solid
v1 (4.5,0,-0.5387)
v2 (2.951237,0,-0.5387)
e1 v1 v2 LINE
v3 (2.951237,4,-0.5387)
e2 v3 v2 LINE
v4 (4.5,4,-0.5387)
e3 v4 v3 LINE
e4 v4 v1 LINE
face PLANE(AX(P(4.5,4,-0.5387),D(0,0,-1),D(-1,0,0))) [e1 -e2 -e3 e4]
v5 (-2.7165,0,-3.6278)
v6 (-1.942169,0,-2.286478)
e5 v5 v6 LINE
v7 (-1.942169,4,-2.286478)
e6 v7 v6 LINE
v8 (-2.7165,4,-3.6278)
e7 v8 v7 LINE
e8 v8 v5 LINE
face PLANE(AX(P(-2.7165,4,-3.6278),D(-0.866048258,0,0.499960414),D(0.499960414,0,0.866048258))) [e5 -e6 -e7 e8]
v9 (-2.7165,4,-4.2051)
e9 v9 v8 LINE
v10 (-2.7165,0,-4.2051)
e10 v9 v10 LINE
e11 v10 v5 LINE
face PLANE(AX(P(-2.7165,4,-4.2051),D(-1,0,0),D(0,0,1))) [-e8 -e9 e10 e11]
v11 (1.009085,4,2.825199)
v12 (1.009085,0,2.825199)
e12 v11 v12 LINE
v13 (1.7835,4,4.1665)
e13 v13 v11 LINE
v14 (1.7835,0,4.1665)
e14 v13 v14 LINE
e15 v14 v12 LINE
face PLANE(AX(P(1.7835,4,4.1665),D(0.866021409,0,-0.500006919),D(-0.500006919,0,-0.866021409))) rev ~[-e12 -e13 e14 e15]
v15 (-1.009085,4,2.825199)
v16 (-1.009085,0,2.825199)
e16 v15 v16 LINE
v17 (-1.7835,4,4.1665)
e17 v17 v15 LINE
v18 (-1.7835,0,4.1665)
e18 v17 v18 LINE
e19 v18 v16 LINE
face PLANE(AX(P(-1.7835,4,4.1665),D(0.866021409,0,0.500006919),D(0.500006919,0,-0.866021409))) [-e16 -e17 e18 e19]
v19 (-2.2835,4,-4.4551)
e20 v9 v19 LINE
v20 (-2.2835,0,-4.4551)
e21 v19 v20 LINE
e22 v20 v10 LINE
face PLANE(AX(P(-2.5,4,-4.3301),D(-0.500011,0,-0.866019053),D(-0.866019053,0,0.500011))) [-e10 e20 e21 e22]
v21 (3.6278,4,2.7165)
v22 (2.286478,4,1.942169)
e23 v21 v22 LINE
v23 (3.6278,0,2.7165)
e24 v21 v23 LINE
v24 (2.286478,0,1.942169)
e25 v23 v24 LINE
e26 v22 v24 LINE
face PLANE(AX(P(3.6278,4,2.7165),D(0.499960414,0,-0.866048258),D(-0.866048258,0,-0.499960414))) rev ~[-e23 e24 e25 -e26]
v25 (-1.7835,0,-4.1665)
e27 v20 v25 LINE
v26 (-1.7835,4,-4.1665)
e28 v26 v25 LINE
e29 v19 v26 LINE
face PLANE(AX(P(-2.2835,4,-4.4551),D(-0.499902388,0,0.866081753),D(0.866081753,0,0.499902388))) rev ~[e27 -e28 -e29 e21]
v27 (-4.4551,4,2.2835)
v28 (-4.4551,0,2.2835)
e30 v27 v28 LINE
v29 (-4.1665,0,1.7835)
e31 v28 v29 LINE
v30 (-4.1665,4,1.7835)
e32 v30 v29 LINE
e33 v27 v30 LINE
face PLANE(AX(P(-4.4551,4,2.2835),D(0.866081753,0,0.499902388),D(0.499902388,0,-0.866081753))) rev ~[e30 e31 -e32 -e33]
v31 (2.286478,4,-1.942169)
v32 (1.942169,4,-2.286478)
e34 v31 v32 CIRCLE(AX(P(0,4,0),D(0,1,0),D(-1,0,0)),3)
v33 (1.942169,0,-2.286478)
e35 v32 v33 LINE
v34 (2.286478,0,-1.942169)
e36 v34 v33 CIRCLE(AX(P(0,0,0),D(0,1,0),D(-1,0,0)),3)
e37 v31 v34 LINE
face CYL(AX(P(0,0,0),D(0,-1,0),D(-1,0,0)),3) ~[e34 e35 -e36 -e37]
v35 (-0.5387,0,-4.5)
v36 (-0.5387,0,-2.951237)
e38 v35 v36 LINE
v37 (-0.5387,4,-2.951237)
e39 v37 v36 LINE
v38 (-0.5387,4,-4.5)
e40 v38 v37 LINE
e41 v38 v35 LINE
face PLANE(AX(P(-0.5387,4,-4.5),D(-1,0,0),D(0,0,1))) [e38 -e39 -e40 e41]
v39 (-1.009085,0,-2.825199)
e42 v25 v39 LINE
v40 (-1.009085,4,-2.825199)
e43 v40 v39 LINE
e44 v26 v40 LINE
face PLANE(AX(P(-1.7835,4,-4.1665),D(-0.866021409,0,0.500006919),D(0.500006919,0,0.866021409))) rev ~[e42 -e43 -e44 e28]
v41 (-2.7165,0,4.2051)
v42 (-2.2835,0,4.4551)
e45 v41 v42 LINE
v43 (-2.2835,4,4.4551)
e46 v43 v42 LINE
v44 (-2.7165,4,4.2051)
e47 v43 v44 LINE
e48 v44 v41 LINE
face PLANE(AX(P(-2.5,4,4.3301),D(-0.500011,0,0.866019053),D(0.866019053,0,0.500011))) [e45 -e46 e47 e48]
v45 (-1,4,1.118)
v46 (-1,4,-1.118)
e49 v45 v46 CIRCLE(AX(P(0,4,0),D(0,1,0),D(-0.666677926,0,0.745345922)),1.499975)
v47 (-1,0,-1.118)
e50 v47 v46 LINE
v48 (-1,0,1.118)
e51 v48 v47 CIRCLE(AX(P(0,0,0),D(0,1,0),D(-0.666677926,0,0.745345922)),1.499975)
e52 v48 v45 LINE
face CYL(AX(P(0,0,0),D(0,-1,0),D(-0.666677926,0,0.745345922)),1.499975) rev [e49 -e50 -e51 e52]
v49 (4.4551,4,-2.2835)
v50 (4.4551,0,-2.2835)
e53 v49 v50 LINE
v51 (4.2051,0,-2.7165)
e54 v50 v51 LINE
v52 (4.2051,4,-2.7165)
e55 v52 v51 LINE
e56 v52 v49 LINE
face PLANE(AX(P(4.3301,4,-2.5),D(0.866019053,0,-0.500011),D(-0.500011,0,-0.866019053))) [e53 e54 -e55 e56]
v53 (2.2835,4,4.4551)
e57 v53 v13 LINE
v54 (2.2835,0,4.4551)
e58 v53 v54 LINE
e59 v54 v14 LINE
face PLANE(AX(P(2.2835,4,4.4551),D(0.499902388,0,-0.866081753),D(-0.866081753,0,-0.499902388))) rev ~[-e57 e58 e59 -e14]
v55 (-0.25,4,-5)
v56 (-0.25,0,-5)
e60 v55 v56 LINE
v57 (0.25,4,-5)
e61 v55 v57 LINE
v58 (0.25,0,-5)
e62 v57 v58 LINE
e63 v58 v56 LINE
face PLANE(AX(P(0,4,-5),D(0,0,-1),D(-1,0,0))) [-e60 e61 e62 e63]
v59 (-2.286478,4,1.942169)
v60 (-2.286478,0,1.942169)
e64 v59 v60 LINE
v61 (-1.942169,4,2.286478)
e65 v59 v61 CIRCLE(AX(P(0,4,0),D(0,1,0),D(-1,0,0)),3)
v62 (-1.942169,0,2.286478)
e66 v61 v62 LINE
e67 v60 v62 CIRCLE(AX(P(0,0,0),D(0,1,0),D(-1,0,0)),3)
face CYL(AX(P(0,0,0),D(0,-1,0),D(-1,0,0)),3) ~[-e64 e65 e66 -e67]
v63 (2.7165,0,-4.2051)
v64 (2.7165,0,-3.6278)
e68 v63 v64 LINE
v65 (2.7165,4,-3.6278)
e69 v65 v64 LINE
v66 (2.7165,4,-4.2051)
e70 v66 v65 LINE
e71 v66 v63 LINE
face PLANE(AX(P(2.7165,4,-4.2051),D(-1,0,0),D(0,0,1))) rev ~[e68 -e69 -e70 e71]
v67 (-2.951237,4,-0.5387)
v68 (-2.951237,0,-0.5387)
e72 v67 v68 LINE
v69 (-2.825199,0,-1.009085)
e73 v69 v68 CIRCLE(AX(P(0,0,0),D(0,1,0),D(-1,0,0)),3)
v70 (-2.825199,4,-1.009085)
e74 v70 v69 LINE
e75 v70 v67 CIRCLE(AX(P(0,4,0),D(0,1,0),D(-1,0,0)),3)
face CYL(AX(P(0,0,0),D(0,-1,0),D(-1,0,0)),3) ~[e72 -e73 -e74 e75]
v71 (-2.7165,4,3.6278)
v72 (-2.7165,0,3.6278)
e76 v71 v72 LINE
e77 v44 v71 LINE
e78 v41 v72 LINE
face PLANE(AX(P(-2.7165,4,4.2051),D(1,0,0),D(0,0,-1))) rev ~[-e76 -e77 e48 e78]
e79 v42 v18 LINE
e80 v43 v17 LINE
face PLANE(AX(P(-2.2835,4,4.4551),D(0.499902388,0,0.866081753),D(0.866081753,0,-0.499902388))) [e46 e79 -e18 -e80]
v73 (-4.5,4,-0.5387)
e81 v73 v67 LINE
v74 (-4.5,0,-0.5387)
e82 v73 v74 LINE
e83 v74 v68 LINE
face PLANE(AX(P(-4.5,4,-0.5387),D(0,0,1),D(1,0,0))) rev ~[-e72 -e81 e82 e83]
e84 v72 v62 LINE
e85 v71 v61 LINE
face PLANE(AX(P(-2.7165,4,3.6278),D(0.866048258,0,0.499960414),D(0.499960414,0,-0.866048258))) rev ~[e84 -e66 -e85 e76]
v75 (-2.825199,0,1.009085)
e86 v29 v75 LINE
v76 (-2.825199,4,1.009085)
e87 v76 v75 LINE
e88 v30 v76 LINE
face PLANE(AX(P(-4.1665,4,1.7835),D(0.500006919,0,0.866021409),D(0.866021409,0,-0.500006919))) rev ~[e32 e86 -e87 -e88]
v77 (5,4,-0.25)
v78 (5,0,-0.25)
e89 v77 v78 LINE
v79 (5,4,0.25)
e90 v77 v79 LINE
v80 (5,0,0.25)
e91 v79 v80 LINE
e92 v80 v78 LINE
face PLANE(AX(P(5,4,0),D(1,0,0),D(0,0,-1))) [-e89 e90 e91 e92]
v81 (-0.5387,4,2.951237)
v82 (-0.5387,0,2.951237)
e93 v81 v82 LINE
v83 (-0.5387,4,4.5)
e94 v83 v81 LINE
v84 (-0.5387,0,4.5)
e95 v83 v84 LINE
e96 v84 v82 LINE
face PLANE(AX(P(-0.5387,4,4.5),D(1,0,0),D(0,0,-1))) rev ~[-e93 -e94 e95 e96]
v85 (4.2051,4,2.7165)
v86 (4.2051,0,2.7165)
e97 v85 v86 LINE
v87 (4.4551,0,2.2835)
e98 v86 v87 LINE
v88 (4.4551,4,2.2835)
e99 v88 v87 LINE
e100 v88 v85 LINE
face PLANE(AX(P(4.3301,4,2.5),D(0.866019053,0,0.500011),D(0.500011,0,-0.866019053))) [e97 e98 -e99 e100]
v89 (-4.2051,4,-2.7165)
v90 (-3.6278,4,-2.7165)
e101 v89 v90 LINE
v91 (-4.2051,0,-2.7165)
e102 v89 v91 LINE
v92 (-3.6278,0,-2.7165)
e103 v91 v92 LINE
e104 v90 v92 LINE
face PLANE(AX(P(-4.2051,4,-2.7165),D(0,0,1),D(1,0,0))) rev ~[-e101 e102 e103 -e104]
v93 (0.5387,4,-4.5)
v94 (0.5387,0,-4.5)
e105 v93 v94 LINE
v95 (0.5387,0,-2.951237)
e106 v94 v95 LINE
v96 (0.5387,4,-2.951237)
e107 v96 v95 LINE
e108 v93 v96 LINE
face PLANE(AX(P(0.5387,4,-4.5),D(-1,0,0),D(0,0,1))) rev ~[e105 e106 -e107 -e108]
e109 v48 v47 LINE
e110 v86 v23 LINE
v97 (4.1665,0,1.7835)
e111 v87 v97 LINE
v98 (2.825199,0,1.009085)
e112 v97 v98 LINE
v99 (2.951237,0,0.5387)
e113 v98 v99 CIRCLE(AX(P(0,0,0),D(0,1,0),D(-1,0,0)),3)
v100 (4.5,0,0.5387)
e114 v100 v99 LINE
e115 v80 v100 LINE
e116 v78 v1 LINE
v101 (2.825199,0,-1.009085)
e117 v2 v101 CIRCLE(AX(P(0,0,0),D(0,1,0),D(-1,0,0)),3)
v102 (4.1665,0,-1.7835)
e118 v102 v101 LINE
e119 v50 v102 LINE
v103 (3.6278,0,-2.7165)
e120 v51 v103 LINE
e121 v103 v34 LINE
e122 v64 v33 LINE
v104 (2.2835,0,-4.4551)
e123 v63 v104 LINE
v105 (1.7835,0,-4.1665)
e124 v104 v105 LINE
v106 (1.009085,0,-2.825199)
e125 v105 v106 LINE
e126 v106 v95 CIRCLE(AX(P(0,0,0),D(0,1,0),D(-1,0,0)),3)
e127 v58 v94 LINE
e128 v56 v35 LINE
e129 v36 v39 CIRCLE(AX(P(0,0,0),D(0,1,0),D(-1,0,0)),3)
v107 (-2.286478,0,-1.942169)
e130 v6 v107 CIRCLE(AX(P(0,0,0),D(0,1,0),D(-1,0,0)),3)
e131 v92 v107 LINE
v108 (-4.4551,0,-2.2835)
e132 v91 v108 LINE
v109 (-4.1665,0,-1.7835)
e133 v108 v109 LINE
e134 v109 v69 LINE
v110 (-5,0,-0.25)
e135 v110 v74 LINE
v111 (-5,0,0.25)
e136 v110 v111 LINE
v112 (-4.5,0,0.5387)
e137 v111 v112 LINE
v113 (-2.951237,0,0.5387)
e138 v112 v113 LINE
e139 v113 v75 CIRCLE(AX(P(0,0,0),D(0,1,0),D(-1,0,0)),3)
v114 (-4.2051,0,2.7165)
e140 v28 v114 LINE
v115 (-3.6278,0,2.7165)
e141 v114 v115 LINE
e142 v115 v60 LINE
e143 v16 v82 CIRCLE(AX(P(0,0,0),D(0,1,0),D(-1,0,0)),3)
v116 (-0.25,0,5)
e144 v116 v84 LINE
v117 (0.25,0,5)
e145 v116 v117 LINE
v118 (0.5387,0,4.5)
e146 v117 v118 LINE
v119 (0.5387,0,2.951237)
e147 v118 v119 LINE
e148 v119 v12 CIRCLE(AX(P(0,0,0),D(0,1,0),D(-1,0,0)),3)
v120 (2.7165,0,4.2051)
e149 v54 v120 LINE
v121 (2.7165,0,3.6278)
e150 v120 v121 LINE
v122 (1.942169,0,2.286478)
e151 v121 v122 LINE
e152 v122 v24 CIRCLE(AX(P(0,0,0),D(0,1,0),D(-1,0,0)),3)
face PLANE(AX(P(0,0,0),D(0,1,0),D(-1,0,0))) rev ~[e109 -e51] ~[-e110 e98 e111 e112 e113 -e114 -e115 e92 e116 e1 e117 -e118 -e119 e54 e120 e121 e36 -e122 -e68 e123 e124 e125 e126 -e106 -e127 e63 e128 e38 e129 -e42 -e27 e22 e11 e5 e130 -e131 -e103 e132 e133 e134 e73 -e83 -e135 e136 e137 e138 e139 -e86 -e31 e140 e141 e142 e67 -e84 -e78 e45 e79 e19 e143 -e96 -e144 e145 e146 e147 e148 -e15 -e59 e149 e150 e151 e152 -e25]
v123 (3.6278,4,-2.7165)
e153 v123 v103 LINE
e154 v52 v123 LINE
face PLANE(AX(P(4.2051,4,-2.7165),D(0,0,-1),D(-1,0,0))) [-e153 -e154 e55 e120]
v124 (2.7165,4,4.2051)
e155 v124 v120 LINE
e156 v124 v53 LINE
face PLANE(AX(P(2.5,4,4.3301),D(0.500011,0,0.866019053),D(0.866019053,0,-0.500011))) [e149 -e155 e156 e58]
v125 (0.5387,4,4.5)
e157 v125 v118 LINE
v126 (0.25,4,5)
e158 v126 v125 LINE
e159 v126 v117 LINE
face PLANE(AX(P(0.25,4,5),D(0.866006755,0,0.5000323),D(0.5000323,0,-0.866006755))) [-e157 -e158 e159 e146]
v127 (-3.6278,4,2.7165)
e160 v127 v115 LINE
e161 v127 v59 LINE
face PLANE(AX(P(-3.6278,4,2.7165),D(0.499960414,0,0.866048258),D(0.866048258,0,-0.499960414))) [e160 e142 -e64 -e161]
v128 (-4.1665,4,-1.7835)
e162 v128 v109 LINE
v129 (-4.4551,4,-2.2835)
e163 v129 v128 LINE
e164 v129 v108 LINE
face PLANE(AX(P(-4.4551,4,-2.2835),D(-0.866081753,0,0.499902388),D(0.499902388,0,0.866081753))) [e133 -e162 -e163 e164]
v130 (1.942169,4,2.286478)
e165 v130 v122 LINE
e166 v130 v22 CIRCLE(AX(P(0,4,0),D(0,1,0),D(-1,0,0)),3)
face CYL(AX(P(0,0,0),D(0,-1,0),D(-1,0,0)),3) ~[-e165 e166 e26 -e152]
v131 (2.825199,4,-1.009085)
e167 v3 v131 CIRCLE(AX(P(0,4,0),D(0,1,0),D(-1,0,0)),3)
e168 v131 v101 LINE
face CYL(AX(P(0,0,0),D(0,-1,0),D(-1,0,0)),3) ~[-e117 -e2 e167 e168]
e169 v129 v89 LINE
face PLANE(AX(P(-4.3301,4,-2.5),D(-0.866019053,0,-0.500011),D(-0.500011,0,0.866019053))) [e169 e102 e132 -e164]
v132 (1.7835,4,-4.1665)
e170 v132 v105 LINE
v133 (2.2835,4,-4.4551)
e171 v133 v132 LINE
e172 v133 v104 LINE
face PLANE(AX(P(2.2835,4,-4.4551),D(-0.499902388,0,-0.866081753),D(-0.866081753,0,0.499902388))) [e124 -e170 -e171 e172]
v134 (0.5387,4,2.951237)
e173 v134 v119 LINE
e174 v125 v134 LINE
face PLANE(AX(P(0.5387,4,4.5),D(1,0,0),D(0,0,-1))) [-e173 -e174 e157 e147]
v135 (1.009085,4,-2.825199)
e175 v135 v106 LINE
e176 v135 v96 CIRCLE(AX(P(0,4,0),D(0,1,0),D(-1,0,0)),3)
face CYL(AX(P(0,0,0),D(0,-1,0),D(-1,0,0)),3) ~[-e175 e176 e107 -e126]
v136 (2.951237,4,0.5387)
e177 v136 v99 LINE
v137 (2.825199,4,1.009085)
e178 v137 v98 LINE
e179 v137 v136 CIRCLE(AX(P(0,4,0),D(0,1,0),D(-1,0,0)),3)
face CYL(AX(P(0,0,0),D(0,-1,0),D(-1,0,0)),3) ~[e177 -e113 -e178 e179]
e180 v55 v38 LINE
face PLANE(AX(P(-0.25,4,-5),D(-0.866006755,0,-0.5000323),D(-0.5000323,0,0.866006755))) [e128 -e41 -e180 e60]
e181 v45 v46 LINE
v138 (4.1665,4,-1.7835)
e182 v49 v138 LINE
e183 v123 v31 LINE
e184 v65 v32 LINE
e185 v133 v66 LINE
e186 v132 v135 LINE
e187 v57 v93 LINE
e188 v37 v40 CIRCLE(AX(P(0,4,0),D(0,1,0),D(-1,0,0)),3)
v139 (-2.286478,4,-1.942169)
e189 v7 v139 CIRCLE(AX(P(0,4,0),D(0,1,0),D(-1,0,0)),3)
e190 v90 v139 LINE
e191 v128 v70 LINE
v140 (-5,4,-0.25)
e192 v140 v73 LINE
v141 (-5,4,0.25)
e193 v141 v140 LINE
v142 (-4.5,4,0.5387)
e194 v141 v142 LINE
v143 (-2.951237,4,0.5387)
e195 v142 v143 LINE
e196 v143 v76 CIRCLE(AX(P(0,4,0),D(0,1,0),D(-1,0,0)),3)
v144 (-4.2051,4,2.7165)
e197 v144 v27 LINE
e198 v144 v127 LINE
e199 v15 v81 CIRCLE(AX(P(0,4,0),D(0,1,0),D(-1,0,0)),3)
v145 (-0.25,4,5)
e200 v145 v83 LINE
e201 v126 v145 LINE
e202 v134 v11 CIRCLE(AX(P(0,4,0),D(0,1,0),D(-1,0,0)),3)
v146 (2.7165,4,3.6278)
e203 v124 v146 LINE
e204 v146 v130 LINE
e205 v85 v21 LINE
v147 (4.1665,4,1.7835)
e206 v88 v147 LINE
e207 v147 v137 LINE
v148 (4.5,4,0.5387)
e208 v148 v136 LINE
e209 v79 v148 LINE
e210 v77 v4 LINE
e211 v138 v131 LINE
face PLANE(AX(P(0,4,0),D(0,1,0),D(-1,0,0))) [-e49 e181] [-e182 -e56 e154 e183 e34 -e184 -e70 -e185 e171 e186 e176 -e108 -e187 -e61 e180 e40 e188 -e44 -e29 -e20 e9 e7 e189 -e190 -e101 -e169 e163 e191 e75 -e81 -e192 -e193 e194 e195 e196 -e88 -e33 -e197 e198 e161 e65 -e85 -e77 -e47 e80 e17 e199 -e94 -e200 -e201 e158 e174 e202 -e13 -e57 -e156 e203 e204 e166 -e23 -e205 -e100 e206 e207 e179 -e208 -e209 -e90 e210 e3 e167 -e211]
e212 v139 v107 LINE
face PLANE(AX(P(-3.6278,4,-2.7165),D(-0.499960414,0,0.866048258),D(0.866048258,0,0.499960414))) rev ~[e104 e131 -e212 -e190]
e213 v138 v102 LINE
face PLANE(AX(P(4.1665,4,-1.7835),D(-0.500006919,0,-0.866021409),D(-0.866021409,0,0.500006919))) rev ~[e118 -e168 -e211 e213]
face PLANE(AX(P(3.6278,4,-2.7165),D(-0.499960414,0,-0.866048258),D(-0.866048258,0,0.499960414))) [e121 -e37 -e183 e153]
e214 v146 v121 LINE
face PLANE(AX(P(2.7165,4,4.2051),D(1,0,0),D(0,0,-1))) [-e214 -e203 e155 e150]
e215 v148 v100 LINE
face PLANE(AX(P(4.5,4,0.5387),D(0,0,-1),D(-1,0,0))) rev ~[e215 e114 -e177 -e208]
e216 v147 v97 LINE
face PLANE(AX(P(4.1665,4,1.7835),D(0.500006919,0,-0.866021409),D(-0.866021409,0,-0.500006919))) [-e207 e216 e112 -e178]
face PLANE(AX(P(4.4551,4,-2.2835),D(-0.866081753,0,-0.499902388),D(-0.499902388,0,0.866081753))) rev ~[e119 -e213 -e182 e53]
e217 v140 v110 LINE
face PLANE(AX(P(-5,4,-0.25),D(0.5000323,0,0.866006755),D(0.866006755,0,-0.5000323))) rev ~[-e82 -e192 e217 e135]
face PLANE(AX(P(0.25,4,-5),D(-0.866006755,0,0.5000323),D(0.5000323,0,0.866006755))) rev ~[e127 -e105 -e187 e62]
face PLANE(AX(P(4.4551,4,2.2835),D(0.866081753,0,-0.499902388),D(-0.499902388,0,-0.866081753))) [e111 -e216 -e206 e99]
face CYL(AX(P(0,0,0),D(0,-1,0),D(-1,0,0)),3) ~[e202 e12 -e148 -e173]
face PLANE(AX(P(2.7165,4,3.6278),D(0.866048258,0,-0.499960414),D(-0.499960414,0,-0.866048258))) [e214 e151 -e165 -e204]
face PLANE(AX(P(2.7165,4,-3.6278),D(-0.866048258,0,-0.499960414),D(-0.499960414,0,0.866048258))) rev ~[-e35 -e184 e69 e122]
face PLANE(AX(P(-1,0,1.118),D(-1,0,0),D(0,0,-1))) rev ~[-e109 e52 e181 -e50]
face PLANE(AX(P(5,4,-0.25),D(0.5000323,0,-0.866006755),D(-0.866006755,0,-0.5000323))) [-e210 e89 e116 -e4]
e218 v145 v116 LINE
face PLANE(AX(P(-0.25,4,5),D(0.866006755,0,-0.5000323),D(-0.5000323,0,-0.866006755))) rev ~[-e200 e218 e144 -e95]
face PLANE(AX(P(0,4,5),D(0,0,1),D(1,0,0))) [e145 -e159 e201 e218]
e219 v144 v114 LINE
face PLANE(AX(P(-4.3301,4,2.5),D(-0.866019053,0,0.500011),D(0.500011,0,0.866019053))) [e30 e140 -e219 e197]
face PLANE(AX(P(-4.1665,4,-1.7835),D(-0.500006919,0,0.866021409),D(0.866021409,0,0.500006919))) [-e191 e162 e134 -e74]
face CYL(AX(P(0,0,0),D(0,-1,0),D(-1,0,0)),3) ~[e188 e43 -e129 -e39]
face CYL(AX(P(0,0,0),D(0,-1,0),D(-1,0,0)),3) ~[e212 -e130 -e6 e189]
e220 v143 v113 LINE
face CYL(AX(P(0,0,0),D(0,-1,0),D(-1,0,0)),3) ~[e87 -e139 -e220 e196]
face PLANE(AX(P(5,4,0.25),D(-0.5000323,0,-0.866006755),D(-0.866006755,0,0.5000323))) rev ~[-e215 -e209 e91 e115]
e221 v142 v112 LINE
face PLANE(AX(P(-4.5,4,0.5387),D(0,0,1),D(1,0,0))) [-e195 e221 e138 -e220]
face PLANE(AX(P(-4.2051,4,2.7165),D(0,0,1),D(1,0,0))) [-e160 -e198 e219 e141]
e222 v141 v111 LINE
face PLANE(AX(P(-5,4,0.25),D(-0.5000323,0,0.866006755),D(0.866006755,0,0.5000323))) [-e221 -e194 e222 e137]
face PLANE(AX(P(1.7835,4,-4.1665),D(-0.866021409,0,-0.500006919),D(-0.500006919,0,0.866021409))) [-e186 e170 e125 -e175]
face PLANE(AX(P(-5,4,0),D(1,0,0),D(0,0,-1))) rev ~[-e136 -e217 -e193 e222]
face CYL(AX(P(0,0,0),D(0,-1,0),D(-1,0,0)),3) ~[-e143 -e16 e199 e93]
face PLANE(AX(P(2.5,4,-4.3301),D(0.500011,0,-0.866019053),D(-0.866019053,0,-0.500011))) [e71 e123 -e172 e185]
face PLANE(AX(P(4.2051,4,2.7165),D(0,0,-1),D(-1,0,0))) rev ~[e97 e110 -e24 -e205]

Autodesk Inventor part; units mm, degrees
ref_plane "YZ Plane" through (0, 0, 0) normal (1, 0, 0) x (0, 1, 0)
ref_plane "XZ Plane" through (0, 0, 0) normal (0, 1, 0) x (-1, 0, 0)
ref_plane "XY Plane" through (0, 0, 0) normal (0, 0, 1) x (1, 0, 0)
sketch "Esboço1" plane through (0, 0, 0) normal (0, 1, 0) x (-1, 0, 0)
  arc A0 (1, 1.118) -> (1, -1.118) centre (0, 0) ccw
  line L0 (1, 1.118) -> (1, -1.118)
  line L1 (0, 0) -> (-1.5, 0) construction
  line L2 (1.2, -1.2042) -> (1.2, 1.2042) construction
  arc A1 (1.2, 1.2042) -> (1.2, -1.2042) centre (0, 0) ccw construction
  circle A2 centre (0, 0) radius 3
  point P0 (1, 0)
  dimension "d0" = 3
  dimension "d1" = 2.5
  dimension "d2" = 0.2
  dimension "d3" = 6
extrude "Extrusão1" add sketch "Esboço1" along normal blind 4
sketch "Esboço2" plane through (0, 4, 0) normal (0, 1, 0) x (1, 0, 0)
  line L0 (0, 0) -> (-5, 0) construction
  line L1 (-5, 0) -> (-5, 0.25)
  line L2 (-5, 0.25) -> (-4.5, 0.5387)
  line L3 (-4.5, 0.5387) -> (-2.8873, 0.5387)
  line L4 (-5, 0) -> (-5, -0.25)
  line L5 (-5, -0.25) -> (-4.5, -0.5387)
  line L6 (-4.5, -0.5387) -> (-2.8873, -0.5387)
  line L7 (-4.3301, -2.5) -> (-4.4551, -2.2835)
  line L8 (-4.4551, -2.2835) -> (-4.1665, -1.7835)
  line L9 (-4.1665, -1.7835) -> (-2.7698, -0.9771)
  line L10 (-4.3301, -2.5) -> (-4.2051, -2.7165)
  line L11 (-4.2051, -2.7165) -> (-3.6278, -2.7165)
  line L12 (-3.6278, -2.7165) -> (-2.2311, -1.9102)
  line L13 (-2.5, -4.3301) -> (-2.7165, -4.2051)
  line L14 (-2.7165, -4.2051) -> (-2.7165, -3.6278)
  line L15 (-2.7165, -3.6278) -> (-1.9102, -2.2311)
  line L16 (-2.5, -4.3301) -> (-2.2835, -4.4551)
  line L17 (-2.2835, -4.4551) -> (-1.7835, -4.1665)
  line L18 (-1.7835, -4.1665) -> (-0.9771, -2.7698)
  line L19 (0, -5) -> (-0.25, -5)
  line L20 (-0.25, -5) -> (-0.5387, -4.5)
  line L21 (-0.5387, -4.5) -> (-0.5387, -2.8873)
  line L22 (0, -5) -> (0.25, -5)
  line L23 (0.25, -5) -> (0.5387, -4.5)
  line L24 (0.5387, -4.5) -> (0.5387, -2.8873)
  line L25 (2.5, -4.3301) -> (2.2835, -4.4551)
  line L26 (2.2835, -4.4551) -> (1.7835, -4.1665)
  line L27 (1.7835, -4.1665) -> (0.9771, -2.7698)
  line L28 (2.5, -4.3301) -> (2.7165, -4.2051)
  line L29 (2.7165, -4.2051) -> (2.7165, -3.6278)
  line L30 (2.7165, -3.6278) -> (1.9102, -2.2311)
  line L31 (4.3301, -2.5) -> (4.2051, -2.7165)
  line L32 (4.2051, -2.7165) -> (3.6278, -2.7165)
  line L33 (3.6278, -2.7165) -> (2.2311, -1.9102)
  line L34 (4.3301, -2.5) -> (4.4551, -2.2835)
  line L35 (4.4551, -2.2835) -> (4.1665, -1.7835)
  line L36 (4.1665, -1.7835) -> (2.7698, -0.9771)
  line L37 (5, 0) -> (5, -0.25)
  line L38 (5, -0.25) -> (4.5, -0.5387)
  line L39 (4.5, -0.5387) -> (2.8873, -0.5387)
  line L40 (5, 0) -> (5, 0.25)
  line L41 (5, 0.25) -> (4.5, 0.5387)
  line L42 (4.5, 0.5387) -> (2.8873, 0.5387)
  line L43 (4.3301, 2.5) -> (4.4551, 2.2835)
  line L44 (4.4551, 2.2835) -> (4.1665, 1.7835)
  line L45 (4.1665, 1.7835) -> (2.7698, 0.9771)
  line L46 (4.3301, 2.5) -> (4.2051, 2.7165)
  line L47 (4.2051, 2.7165) -> (3.6278, 2.7165)
  line L48 (3.6278, 2.7165) -> (2.2311, 1.9102)
  line L49 (2.5, 4.3301) -> (2.7165, 4.2051)
  line L50 (2.7165, 4.2051) -> (2.7165, 3.6278)
  line L51 (2.7165, 3.6278) -> (1.9102, 2.2311)
  line L52 (2.5, 4.3301) -> (2.2835, 4.4551)
  line L53 (2.2835, 4.4551) -> (1.7835, 4.1665)
  line L54 (1.7835, 4.1665) -> (0.9771, 2.7698)
  line L55 (0, 5) -> (0.25, 5)
  line L56 (0.25, 5) -> (0.5387, 4.5)
  line L57 (0.5387, 4.5) -> (0.5387, 2.8873)
  line L58 (0, 5) -> (-0.25, 5)
  line L59 (-0.25, 5) -> (-0.5387, 4.5)
  line L60 (-0.5387, 4.5) -> (-0.5387, 2.8873)
  line L61 (-2.5, 4.3301) -> (-2.2835, 4.4551)
  line L62 (-2.2835, 4.4551) -> (-1.7835, 4.1665)
  line L63 (-1.7835, 4.1665) -> (-0.9771, 2.7698)
  line L64 (-2.5, 4.3301) -> (-2.7165, 4.2051)
  line L65 (-2.7165, 4.2051) -> (-2.7165, 3.6278)
  line L66 (-2.7165, 3.6278) -> (-1.9102, 2.2311)
  line L67 (-4.3301, 2.5) -> (-4.2051, 2.7165)
  line L68 (-4.2051, 2.7165) -> (-3.6278, 2.7165)
  line L69 (-3.6278, 2.7165) -> (-2.2311, 1.9102)
  line L70 (-4.3301, 2.5) -> (-4.4551, 2.2835)
  line L71 (-4.4551, 2.2835) -> (-4.1665, 1.7835)
  line L72 (-4.1665, 1.7835) -> (-2.7698, 0.9771)
  circle A0 centre (0, 0) radius 3
  point P0 (-1.0091, -2.8252)
  point P1 (-1.9421, -2.2865)
  point P2 (-2.2865, -1.9421)
  point P3 (-2.8252, -1.0091)
  point P4 (-2.9512, -0.5387)
  point P5 (-2.9512, 0.5387)
  point P6 (-2.8252, 1.0091)
  point P7 (-2.2865, 1.9421)
  point P8 (-1.9421, 2.2865)
  point P9 (-1.0091, 2.8252)
  point P10 (-0.5387, 2.9512)
  point P11 (0.5387, 2.9512)
  point P12 (1.0091, 2.8252)
  point P13 (1.9421, 2.2865)
  point P14 (2.2865, 1.9421)
  point P15 (2.8252, 1.0091)
  point P16 (2.9512, 0.5387)
  point P17 (2.9512, -0.5387)
  point P18 (2.8252, -1.0091)
  point P19 (2.2865, -1.9421)
  point P20 (1.9421, -2.2865)
  point P21 (1.0091, -2.8252)
  point P22 (0.5387, -2.9512)
  point P23 (-0.5387, -2.9512)
  dimension "d15" = 6
  dimension "d6" = 5
  dimension "d7" = 0.25
  dimension "d9" = 60
  dimension "d10" = 0.5
  dimension "d13" = 360
extrude "Extrusão2" add sketch "Esboço2" against normal blind 4 contours L1 L2 L3 A0 L6 L5 L4 | L72 L71 L70 L67 L68 L69 A0 | A0 L12 L11 L10 L7 L8 L9 | L66 L65 L64 L61 L62 L63 A0 | A0 L18 L17 L16 L13 L14 L15 | L60 L59 L58 L55 L56 L57 A0 | A0 L24 L23 L22 L19 L20 L21 | L54 L53 L52 L49 L50 L51 A0 | A0 L30 L29 L28 L25 L26 L27 | L48 L47 L46 L43 L44 L45 A0 | A0 L36 L35 L34 L31 L32 L33 | L42 L41 L40 L37 L38 L39 A0
properties part number "Gear"
